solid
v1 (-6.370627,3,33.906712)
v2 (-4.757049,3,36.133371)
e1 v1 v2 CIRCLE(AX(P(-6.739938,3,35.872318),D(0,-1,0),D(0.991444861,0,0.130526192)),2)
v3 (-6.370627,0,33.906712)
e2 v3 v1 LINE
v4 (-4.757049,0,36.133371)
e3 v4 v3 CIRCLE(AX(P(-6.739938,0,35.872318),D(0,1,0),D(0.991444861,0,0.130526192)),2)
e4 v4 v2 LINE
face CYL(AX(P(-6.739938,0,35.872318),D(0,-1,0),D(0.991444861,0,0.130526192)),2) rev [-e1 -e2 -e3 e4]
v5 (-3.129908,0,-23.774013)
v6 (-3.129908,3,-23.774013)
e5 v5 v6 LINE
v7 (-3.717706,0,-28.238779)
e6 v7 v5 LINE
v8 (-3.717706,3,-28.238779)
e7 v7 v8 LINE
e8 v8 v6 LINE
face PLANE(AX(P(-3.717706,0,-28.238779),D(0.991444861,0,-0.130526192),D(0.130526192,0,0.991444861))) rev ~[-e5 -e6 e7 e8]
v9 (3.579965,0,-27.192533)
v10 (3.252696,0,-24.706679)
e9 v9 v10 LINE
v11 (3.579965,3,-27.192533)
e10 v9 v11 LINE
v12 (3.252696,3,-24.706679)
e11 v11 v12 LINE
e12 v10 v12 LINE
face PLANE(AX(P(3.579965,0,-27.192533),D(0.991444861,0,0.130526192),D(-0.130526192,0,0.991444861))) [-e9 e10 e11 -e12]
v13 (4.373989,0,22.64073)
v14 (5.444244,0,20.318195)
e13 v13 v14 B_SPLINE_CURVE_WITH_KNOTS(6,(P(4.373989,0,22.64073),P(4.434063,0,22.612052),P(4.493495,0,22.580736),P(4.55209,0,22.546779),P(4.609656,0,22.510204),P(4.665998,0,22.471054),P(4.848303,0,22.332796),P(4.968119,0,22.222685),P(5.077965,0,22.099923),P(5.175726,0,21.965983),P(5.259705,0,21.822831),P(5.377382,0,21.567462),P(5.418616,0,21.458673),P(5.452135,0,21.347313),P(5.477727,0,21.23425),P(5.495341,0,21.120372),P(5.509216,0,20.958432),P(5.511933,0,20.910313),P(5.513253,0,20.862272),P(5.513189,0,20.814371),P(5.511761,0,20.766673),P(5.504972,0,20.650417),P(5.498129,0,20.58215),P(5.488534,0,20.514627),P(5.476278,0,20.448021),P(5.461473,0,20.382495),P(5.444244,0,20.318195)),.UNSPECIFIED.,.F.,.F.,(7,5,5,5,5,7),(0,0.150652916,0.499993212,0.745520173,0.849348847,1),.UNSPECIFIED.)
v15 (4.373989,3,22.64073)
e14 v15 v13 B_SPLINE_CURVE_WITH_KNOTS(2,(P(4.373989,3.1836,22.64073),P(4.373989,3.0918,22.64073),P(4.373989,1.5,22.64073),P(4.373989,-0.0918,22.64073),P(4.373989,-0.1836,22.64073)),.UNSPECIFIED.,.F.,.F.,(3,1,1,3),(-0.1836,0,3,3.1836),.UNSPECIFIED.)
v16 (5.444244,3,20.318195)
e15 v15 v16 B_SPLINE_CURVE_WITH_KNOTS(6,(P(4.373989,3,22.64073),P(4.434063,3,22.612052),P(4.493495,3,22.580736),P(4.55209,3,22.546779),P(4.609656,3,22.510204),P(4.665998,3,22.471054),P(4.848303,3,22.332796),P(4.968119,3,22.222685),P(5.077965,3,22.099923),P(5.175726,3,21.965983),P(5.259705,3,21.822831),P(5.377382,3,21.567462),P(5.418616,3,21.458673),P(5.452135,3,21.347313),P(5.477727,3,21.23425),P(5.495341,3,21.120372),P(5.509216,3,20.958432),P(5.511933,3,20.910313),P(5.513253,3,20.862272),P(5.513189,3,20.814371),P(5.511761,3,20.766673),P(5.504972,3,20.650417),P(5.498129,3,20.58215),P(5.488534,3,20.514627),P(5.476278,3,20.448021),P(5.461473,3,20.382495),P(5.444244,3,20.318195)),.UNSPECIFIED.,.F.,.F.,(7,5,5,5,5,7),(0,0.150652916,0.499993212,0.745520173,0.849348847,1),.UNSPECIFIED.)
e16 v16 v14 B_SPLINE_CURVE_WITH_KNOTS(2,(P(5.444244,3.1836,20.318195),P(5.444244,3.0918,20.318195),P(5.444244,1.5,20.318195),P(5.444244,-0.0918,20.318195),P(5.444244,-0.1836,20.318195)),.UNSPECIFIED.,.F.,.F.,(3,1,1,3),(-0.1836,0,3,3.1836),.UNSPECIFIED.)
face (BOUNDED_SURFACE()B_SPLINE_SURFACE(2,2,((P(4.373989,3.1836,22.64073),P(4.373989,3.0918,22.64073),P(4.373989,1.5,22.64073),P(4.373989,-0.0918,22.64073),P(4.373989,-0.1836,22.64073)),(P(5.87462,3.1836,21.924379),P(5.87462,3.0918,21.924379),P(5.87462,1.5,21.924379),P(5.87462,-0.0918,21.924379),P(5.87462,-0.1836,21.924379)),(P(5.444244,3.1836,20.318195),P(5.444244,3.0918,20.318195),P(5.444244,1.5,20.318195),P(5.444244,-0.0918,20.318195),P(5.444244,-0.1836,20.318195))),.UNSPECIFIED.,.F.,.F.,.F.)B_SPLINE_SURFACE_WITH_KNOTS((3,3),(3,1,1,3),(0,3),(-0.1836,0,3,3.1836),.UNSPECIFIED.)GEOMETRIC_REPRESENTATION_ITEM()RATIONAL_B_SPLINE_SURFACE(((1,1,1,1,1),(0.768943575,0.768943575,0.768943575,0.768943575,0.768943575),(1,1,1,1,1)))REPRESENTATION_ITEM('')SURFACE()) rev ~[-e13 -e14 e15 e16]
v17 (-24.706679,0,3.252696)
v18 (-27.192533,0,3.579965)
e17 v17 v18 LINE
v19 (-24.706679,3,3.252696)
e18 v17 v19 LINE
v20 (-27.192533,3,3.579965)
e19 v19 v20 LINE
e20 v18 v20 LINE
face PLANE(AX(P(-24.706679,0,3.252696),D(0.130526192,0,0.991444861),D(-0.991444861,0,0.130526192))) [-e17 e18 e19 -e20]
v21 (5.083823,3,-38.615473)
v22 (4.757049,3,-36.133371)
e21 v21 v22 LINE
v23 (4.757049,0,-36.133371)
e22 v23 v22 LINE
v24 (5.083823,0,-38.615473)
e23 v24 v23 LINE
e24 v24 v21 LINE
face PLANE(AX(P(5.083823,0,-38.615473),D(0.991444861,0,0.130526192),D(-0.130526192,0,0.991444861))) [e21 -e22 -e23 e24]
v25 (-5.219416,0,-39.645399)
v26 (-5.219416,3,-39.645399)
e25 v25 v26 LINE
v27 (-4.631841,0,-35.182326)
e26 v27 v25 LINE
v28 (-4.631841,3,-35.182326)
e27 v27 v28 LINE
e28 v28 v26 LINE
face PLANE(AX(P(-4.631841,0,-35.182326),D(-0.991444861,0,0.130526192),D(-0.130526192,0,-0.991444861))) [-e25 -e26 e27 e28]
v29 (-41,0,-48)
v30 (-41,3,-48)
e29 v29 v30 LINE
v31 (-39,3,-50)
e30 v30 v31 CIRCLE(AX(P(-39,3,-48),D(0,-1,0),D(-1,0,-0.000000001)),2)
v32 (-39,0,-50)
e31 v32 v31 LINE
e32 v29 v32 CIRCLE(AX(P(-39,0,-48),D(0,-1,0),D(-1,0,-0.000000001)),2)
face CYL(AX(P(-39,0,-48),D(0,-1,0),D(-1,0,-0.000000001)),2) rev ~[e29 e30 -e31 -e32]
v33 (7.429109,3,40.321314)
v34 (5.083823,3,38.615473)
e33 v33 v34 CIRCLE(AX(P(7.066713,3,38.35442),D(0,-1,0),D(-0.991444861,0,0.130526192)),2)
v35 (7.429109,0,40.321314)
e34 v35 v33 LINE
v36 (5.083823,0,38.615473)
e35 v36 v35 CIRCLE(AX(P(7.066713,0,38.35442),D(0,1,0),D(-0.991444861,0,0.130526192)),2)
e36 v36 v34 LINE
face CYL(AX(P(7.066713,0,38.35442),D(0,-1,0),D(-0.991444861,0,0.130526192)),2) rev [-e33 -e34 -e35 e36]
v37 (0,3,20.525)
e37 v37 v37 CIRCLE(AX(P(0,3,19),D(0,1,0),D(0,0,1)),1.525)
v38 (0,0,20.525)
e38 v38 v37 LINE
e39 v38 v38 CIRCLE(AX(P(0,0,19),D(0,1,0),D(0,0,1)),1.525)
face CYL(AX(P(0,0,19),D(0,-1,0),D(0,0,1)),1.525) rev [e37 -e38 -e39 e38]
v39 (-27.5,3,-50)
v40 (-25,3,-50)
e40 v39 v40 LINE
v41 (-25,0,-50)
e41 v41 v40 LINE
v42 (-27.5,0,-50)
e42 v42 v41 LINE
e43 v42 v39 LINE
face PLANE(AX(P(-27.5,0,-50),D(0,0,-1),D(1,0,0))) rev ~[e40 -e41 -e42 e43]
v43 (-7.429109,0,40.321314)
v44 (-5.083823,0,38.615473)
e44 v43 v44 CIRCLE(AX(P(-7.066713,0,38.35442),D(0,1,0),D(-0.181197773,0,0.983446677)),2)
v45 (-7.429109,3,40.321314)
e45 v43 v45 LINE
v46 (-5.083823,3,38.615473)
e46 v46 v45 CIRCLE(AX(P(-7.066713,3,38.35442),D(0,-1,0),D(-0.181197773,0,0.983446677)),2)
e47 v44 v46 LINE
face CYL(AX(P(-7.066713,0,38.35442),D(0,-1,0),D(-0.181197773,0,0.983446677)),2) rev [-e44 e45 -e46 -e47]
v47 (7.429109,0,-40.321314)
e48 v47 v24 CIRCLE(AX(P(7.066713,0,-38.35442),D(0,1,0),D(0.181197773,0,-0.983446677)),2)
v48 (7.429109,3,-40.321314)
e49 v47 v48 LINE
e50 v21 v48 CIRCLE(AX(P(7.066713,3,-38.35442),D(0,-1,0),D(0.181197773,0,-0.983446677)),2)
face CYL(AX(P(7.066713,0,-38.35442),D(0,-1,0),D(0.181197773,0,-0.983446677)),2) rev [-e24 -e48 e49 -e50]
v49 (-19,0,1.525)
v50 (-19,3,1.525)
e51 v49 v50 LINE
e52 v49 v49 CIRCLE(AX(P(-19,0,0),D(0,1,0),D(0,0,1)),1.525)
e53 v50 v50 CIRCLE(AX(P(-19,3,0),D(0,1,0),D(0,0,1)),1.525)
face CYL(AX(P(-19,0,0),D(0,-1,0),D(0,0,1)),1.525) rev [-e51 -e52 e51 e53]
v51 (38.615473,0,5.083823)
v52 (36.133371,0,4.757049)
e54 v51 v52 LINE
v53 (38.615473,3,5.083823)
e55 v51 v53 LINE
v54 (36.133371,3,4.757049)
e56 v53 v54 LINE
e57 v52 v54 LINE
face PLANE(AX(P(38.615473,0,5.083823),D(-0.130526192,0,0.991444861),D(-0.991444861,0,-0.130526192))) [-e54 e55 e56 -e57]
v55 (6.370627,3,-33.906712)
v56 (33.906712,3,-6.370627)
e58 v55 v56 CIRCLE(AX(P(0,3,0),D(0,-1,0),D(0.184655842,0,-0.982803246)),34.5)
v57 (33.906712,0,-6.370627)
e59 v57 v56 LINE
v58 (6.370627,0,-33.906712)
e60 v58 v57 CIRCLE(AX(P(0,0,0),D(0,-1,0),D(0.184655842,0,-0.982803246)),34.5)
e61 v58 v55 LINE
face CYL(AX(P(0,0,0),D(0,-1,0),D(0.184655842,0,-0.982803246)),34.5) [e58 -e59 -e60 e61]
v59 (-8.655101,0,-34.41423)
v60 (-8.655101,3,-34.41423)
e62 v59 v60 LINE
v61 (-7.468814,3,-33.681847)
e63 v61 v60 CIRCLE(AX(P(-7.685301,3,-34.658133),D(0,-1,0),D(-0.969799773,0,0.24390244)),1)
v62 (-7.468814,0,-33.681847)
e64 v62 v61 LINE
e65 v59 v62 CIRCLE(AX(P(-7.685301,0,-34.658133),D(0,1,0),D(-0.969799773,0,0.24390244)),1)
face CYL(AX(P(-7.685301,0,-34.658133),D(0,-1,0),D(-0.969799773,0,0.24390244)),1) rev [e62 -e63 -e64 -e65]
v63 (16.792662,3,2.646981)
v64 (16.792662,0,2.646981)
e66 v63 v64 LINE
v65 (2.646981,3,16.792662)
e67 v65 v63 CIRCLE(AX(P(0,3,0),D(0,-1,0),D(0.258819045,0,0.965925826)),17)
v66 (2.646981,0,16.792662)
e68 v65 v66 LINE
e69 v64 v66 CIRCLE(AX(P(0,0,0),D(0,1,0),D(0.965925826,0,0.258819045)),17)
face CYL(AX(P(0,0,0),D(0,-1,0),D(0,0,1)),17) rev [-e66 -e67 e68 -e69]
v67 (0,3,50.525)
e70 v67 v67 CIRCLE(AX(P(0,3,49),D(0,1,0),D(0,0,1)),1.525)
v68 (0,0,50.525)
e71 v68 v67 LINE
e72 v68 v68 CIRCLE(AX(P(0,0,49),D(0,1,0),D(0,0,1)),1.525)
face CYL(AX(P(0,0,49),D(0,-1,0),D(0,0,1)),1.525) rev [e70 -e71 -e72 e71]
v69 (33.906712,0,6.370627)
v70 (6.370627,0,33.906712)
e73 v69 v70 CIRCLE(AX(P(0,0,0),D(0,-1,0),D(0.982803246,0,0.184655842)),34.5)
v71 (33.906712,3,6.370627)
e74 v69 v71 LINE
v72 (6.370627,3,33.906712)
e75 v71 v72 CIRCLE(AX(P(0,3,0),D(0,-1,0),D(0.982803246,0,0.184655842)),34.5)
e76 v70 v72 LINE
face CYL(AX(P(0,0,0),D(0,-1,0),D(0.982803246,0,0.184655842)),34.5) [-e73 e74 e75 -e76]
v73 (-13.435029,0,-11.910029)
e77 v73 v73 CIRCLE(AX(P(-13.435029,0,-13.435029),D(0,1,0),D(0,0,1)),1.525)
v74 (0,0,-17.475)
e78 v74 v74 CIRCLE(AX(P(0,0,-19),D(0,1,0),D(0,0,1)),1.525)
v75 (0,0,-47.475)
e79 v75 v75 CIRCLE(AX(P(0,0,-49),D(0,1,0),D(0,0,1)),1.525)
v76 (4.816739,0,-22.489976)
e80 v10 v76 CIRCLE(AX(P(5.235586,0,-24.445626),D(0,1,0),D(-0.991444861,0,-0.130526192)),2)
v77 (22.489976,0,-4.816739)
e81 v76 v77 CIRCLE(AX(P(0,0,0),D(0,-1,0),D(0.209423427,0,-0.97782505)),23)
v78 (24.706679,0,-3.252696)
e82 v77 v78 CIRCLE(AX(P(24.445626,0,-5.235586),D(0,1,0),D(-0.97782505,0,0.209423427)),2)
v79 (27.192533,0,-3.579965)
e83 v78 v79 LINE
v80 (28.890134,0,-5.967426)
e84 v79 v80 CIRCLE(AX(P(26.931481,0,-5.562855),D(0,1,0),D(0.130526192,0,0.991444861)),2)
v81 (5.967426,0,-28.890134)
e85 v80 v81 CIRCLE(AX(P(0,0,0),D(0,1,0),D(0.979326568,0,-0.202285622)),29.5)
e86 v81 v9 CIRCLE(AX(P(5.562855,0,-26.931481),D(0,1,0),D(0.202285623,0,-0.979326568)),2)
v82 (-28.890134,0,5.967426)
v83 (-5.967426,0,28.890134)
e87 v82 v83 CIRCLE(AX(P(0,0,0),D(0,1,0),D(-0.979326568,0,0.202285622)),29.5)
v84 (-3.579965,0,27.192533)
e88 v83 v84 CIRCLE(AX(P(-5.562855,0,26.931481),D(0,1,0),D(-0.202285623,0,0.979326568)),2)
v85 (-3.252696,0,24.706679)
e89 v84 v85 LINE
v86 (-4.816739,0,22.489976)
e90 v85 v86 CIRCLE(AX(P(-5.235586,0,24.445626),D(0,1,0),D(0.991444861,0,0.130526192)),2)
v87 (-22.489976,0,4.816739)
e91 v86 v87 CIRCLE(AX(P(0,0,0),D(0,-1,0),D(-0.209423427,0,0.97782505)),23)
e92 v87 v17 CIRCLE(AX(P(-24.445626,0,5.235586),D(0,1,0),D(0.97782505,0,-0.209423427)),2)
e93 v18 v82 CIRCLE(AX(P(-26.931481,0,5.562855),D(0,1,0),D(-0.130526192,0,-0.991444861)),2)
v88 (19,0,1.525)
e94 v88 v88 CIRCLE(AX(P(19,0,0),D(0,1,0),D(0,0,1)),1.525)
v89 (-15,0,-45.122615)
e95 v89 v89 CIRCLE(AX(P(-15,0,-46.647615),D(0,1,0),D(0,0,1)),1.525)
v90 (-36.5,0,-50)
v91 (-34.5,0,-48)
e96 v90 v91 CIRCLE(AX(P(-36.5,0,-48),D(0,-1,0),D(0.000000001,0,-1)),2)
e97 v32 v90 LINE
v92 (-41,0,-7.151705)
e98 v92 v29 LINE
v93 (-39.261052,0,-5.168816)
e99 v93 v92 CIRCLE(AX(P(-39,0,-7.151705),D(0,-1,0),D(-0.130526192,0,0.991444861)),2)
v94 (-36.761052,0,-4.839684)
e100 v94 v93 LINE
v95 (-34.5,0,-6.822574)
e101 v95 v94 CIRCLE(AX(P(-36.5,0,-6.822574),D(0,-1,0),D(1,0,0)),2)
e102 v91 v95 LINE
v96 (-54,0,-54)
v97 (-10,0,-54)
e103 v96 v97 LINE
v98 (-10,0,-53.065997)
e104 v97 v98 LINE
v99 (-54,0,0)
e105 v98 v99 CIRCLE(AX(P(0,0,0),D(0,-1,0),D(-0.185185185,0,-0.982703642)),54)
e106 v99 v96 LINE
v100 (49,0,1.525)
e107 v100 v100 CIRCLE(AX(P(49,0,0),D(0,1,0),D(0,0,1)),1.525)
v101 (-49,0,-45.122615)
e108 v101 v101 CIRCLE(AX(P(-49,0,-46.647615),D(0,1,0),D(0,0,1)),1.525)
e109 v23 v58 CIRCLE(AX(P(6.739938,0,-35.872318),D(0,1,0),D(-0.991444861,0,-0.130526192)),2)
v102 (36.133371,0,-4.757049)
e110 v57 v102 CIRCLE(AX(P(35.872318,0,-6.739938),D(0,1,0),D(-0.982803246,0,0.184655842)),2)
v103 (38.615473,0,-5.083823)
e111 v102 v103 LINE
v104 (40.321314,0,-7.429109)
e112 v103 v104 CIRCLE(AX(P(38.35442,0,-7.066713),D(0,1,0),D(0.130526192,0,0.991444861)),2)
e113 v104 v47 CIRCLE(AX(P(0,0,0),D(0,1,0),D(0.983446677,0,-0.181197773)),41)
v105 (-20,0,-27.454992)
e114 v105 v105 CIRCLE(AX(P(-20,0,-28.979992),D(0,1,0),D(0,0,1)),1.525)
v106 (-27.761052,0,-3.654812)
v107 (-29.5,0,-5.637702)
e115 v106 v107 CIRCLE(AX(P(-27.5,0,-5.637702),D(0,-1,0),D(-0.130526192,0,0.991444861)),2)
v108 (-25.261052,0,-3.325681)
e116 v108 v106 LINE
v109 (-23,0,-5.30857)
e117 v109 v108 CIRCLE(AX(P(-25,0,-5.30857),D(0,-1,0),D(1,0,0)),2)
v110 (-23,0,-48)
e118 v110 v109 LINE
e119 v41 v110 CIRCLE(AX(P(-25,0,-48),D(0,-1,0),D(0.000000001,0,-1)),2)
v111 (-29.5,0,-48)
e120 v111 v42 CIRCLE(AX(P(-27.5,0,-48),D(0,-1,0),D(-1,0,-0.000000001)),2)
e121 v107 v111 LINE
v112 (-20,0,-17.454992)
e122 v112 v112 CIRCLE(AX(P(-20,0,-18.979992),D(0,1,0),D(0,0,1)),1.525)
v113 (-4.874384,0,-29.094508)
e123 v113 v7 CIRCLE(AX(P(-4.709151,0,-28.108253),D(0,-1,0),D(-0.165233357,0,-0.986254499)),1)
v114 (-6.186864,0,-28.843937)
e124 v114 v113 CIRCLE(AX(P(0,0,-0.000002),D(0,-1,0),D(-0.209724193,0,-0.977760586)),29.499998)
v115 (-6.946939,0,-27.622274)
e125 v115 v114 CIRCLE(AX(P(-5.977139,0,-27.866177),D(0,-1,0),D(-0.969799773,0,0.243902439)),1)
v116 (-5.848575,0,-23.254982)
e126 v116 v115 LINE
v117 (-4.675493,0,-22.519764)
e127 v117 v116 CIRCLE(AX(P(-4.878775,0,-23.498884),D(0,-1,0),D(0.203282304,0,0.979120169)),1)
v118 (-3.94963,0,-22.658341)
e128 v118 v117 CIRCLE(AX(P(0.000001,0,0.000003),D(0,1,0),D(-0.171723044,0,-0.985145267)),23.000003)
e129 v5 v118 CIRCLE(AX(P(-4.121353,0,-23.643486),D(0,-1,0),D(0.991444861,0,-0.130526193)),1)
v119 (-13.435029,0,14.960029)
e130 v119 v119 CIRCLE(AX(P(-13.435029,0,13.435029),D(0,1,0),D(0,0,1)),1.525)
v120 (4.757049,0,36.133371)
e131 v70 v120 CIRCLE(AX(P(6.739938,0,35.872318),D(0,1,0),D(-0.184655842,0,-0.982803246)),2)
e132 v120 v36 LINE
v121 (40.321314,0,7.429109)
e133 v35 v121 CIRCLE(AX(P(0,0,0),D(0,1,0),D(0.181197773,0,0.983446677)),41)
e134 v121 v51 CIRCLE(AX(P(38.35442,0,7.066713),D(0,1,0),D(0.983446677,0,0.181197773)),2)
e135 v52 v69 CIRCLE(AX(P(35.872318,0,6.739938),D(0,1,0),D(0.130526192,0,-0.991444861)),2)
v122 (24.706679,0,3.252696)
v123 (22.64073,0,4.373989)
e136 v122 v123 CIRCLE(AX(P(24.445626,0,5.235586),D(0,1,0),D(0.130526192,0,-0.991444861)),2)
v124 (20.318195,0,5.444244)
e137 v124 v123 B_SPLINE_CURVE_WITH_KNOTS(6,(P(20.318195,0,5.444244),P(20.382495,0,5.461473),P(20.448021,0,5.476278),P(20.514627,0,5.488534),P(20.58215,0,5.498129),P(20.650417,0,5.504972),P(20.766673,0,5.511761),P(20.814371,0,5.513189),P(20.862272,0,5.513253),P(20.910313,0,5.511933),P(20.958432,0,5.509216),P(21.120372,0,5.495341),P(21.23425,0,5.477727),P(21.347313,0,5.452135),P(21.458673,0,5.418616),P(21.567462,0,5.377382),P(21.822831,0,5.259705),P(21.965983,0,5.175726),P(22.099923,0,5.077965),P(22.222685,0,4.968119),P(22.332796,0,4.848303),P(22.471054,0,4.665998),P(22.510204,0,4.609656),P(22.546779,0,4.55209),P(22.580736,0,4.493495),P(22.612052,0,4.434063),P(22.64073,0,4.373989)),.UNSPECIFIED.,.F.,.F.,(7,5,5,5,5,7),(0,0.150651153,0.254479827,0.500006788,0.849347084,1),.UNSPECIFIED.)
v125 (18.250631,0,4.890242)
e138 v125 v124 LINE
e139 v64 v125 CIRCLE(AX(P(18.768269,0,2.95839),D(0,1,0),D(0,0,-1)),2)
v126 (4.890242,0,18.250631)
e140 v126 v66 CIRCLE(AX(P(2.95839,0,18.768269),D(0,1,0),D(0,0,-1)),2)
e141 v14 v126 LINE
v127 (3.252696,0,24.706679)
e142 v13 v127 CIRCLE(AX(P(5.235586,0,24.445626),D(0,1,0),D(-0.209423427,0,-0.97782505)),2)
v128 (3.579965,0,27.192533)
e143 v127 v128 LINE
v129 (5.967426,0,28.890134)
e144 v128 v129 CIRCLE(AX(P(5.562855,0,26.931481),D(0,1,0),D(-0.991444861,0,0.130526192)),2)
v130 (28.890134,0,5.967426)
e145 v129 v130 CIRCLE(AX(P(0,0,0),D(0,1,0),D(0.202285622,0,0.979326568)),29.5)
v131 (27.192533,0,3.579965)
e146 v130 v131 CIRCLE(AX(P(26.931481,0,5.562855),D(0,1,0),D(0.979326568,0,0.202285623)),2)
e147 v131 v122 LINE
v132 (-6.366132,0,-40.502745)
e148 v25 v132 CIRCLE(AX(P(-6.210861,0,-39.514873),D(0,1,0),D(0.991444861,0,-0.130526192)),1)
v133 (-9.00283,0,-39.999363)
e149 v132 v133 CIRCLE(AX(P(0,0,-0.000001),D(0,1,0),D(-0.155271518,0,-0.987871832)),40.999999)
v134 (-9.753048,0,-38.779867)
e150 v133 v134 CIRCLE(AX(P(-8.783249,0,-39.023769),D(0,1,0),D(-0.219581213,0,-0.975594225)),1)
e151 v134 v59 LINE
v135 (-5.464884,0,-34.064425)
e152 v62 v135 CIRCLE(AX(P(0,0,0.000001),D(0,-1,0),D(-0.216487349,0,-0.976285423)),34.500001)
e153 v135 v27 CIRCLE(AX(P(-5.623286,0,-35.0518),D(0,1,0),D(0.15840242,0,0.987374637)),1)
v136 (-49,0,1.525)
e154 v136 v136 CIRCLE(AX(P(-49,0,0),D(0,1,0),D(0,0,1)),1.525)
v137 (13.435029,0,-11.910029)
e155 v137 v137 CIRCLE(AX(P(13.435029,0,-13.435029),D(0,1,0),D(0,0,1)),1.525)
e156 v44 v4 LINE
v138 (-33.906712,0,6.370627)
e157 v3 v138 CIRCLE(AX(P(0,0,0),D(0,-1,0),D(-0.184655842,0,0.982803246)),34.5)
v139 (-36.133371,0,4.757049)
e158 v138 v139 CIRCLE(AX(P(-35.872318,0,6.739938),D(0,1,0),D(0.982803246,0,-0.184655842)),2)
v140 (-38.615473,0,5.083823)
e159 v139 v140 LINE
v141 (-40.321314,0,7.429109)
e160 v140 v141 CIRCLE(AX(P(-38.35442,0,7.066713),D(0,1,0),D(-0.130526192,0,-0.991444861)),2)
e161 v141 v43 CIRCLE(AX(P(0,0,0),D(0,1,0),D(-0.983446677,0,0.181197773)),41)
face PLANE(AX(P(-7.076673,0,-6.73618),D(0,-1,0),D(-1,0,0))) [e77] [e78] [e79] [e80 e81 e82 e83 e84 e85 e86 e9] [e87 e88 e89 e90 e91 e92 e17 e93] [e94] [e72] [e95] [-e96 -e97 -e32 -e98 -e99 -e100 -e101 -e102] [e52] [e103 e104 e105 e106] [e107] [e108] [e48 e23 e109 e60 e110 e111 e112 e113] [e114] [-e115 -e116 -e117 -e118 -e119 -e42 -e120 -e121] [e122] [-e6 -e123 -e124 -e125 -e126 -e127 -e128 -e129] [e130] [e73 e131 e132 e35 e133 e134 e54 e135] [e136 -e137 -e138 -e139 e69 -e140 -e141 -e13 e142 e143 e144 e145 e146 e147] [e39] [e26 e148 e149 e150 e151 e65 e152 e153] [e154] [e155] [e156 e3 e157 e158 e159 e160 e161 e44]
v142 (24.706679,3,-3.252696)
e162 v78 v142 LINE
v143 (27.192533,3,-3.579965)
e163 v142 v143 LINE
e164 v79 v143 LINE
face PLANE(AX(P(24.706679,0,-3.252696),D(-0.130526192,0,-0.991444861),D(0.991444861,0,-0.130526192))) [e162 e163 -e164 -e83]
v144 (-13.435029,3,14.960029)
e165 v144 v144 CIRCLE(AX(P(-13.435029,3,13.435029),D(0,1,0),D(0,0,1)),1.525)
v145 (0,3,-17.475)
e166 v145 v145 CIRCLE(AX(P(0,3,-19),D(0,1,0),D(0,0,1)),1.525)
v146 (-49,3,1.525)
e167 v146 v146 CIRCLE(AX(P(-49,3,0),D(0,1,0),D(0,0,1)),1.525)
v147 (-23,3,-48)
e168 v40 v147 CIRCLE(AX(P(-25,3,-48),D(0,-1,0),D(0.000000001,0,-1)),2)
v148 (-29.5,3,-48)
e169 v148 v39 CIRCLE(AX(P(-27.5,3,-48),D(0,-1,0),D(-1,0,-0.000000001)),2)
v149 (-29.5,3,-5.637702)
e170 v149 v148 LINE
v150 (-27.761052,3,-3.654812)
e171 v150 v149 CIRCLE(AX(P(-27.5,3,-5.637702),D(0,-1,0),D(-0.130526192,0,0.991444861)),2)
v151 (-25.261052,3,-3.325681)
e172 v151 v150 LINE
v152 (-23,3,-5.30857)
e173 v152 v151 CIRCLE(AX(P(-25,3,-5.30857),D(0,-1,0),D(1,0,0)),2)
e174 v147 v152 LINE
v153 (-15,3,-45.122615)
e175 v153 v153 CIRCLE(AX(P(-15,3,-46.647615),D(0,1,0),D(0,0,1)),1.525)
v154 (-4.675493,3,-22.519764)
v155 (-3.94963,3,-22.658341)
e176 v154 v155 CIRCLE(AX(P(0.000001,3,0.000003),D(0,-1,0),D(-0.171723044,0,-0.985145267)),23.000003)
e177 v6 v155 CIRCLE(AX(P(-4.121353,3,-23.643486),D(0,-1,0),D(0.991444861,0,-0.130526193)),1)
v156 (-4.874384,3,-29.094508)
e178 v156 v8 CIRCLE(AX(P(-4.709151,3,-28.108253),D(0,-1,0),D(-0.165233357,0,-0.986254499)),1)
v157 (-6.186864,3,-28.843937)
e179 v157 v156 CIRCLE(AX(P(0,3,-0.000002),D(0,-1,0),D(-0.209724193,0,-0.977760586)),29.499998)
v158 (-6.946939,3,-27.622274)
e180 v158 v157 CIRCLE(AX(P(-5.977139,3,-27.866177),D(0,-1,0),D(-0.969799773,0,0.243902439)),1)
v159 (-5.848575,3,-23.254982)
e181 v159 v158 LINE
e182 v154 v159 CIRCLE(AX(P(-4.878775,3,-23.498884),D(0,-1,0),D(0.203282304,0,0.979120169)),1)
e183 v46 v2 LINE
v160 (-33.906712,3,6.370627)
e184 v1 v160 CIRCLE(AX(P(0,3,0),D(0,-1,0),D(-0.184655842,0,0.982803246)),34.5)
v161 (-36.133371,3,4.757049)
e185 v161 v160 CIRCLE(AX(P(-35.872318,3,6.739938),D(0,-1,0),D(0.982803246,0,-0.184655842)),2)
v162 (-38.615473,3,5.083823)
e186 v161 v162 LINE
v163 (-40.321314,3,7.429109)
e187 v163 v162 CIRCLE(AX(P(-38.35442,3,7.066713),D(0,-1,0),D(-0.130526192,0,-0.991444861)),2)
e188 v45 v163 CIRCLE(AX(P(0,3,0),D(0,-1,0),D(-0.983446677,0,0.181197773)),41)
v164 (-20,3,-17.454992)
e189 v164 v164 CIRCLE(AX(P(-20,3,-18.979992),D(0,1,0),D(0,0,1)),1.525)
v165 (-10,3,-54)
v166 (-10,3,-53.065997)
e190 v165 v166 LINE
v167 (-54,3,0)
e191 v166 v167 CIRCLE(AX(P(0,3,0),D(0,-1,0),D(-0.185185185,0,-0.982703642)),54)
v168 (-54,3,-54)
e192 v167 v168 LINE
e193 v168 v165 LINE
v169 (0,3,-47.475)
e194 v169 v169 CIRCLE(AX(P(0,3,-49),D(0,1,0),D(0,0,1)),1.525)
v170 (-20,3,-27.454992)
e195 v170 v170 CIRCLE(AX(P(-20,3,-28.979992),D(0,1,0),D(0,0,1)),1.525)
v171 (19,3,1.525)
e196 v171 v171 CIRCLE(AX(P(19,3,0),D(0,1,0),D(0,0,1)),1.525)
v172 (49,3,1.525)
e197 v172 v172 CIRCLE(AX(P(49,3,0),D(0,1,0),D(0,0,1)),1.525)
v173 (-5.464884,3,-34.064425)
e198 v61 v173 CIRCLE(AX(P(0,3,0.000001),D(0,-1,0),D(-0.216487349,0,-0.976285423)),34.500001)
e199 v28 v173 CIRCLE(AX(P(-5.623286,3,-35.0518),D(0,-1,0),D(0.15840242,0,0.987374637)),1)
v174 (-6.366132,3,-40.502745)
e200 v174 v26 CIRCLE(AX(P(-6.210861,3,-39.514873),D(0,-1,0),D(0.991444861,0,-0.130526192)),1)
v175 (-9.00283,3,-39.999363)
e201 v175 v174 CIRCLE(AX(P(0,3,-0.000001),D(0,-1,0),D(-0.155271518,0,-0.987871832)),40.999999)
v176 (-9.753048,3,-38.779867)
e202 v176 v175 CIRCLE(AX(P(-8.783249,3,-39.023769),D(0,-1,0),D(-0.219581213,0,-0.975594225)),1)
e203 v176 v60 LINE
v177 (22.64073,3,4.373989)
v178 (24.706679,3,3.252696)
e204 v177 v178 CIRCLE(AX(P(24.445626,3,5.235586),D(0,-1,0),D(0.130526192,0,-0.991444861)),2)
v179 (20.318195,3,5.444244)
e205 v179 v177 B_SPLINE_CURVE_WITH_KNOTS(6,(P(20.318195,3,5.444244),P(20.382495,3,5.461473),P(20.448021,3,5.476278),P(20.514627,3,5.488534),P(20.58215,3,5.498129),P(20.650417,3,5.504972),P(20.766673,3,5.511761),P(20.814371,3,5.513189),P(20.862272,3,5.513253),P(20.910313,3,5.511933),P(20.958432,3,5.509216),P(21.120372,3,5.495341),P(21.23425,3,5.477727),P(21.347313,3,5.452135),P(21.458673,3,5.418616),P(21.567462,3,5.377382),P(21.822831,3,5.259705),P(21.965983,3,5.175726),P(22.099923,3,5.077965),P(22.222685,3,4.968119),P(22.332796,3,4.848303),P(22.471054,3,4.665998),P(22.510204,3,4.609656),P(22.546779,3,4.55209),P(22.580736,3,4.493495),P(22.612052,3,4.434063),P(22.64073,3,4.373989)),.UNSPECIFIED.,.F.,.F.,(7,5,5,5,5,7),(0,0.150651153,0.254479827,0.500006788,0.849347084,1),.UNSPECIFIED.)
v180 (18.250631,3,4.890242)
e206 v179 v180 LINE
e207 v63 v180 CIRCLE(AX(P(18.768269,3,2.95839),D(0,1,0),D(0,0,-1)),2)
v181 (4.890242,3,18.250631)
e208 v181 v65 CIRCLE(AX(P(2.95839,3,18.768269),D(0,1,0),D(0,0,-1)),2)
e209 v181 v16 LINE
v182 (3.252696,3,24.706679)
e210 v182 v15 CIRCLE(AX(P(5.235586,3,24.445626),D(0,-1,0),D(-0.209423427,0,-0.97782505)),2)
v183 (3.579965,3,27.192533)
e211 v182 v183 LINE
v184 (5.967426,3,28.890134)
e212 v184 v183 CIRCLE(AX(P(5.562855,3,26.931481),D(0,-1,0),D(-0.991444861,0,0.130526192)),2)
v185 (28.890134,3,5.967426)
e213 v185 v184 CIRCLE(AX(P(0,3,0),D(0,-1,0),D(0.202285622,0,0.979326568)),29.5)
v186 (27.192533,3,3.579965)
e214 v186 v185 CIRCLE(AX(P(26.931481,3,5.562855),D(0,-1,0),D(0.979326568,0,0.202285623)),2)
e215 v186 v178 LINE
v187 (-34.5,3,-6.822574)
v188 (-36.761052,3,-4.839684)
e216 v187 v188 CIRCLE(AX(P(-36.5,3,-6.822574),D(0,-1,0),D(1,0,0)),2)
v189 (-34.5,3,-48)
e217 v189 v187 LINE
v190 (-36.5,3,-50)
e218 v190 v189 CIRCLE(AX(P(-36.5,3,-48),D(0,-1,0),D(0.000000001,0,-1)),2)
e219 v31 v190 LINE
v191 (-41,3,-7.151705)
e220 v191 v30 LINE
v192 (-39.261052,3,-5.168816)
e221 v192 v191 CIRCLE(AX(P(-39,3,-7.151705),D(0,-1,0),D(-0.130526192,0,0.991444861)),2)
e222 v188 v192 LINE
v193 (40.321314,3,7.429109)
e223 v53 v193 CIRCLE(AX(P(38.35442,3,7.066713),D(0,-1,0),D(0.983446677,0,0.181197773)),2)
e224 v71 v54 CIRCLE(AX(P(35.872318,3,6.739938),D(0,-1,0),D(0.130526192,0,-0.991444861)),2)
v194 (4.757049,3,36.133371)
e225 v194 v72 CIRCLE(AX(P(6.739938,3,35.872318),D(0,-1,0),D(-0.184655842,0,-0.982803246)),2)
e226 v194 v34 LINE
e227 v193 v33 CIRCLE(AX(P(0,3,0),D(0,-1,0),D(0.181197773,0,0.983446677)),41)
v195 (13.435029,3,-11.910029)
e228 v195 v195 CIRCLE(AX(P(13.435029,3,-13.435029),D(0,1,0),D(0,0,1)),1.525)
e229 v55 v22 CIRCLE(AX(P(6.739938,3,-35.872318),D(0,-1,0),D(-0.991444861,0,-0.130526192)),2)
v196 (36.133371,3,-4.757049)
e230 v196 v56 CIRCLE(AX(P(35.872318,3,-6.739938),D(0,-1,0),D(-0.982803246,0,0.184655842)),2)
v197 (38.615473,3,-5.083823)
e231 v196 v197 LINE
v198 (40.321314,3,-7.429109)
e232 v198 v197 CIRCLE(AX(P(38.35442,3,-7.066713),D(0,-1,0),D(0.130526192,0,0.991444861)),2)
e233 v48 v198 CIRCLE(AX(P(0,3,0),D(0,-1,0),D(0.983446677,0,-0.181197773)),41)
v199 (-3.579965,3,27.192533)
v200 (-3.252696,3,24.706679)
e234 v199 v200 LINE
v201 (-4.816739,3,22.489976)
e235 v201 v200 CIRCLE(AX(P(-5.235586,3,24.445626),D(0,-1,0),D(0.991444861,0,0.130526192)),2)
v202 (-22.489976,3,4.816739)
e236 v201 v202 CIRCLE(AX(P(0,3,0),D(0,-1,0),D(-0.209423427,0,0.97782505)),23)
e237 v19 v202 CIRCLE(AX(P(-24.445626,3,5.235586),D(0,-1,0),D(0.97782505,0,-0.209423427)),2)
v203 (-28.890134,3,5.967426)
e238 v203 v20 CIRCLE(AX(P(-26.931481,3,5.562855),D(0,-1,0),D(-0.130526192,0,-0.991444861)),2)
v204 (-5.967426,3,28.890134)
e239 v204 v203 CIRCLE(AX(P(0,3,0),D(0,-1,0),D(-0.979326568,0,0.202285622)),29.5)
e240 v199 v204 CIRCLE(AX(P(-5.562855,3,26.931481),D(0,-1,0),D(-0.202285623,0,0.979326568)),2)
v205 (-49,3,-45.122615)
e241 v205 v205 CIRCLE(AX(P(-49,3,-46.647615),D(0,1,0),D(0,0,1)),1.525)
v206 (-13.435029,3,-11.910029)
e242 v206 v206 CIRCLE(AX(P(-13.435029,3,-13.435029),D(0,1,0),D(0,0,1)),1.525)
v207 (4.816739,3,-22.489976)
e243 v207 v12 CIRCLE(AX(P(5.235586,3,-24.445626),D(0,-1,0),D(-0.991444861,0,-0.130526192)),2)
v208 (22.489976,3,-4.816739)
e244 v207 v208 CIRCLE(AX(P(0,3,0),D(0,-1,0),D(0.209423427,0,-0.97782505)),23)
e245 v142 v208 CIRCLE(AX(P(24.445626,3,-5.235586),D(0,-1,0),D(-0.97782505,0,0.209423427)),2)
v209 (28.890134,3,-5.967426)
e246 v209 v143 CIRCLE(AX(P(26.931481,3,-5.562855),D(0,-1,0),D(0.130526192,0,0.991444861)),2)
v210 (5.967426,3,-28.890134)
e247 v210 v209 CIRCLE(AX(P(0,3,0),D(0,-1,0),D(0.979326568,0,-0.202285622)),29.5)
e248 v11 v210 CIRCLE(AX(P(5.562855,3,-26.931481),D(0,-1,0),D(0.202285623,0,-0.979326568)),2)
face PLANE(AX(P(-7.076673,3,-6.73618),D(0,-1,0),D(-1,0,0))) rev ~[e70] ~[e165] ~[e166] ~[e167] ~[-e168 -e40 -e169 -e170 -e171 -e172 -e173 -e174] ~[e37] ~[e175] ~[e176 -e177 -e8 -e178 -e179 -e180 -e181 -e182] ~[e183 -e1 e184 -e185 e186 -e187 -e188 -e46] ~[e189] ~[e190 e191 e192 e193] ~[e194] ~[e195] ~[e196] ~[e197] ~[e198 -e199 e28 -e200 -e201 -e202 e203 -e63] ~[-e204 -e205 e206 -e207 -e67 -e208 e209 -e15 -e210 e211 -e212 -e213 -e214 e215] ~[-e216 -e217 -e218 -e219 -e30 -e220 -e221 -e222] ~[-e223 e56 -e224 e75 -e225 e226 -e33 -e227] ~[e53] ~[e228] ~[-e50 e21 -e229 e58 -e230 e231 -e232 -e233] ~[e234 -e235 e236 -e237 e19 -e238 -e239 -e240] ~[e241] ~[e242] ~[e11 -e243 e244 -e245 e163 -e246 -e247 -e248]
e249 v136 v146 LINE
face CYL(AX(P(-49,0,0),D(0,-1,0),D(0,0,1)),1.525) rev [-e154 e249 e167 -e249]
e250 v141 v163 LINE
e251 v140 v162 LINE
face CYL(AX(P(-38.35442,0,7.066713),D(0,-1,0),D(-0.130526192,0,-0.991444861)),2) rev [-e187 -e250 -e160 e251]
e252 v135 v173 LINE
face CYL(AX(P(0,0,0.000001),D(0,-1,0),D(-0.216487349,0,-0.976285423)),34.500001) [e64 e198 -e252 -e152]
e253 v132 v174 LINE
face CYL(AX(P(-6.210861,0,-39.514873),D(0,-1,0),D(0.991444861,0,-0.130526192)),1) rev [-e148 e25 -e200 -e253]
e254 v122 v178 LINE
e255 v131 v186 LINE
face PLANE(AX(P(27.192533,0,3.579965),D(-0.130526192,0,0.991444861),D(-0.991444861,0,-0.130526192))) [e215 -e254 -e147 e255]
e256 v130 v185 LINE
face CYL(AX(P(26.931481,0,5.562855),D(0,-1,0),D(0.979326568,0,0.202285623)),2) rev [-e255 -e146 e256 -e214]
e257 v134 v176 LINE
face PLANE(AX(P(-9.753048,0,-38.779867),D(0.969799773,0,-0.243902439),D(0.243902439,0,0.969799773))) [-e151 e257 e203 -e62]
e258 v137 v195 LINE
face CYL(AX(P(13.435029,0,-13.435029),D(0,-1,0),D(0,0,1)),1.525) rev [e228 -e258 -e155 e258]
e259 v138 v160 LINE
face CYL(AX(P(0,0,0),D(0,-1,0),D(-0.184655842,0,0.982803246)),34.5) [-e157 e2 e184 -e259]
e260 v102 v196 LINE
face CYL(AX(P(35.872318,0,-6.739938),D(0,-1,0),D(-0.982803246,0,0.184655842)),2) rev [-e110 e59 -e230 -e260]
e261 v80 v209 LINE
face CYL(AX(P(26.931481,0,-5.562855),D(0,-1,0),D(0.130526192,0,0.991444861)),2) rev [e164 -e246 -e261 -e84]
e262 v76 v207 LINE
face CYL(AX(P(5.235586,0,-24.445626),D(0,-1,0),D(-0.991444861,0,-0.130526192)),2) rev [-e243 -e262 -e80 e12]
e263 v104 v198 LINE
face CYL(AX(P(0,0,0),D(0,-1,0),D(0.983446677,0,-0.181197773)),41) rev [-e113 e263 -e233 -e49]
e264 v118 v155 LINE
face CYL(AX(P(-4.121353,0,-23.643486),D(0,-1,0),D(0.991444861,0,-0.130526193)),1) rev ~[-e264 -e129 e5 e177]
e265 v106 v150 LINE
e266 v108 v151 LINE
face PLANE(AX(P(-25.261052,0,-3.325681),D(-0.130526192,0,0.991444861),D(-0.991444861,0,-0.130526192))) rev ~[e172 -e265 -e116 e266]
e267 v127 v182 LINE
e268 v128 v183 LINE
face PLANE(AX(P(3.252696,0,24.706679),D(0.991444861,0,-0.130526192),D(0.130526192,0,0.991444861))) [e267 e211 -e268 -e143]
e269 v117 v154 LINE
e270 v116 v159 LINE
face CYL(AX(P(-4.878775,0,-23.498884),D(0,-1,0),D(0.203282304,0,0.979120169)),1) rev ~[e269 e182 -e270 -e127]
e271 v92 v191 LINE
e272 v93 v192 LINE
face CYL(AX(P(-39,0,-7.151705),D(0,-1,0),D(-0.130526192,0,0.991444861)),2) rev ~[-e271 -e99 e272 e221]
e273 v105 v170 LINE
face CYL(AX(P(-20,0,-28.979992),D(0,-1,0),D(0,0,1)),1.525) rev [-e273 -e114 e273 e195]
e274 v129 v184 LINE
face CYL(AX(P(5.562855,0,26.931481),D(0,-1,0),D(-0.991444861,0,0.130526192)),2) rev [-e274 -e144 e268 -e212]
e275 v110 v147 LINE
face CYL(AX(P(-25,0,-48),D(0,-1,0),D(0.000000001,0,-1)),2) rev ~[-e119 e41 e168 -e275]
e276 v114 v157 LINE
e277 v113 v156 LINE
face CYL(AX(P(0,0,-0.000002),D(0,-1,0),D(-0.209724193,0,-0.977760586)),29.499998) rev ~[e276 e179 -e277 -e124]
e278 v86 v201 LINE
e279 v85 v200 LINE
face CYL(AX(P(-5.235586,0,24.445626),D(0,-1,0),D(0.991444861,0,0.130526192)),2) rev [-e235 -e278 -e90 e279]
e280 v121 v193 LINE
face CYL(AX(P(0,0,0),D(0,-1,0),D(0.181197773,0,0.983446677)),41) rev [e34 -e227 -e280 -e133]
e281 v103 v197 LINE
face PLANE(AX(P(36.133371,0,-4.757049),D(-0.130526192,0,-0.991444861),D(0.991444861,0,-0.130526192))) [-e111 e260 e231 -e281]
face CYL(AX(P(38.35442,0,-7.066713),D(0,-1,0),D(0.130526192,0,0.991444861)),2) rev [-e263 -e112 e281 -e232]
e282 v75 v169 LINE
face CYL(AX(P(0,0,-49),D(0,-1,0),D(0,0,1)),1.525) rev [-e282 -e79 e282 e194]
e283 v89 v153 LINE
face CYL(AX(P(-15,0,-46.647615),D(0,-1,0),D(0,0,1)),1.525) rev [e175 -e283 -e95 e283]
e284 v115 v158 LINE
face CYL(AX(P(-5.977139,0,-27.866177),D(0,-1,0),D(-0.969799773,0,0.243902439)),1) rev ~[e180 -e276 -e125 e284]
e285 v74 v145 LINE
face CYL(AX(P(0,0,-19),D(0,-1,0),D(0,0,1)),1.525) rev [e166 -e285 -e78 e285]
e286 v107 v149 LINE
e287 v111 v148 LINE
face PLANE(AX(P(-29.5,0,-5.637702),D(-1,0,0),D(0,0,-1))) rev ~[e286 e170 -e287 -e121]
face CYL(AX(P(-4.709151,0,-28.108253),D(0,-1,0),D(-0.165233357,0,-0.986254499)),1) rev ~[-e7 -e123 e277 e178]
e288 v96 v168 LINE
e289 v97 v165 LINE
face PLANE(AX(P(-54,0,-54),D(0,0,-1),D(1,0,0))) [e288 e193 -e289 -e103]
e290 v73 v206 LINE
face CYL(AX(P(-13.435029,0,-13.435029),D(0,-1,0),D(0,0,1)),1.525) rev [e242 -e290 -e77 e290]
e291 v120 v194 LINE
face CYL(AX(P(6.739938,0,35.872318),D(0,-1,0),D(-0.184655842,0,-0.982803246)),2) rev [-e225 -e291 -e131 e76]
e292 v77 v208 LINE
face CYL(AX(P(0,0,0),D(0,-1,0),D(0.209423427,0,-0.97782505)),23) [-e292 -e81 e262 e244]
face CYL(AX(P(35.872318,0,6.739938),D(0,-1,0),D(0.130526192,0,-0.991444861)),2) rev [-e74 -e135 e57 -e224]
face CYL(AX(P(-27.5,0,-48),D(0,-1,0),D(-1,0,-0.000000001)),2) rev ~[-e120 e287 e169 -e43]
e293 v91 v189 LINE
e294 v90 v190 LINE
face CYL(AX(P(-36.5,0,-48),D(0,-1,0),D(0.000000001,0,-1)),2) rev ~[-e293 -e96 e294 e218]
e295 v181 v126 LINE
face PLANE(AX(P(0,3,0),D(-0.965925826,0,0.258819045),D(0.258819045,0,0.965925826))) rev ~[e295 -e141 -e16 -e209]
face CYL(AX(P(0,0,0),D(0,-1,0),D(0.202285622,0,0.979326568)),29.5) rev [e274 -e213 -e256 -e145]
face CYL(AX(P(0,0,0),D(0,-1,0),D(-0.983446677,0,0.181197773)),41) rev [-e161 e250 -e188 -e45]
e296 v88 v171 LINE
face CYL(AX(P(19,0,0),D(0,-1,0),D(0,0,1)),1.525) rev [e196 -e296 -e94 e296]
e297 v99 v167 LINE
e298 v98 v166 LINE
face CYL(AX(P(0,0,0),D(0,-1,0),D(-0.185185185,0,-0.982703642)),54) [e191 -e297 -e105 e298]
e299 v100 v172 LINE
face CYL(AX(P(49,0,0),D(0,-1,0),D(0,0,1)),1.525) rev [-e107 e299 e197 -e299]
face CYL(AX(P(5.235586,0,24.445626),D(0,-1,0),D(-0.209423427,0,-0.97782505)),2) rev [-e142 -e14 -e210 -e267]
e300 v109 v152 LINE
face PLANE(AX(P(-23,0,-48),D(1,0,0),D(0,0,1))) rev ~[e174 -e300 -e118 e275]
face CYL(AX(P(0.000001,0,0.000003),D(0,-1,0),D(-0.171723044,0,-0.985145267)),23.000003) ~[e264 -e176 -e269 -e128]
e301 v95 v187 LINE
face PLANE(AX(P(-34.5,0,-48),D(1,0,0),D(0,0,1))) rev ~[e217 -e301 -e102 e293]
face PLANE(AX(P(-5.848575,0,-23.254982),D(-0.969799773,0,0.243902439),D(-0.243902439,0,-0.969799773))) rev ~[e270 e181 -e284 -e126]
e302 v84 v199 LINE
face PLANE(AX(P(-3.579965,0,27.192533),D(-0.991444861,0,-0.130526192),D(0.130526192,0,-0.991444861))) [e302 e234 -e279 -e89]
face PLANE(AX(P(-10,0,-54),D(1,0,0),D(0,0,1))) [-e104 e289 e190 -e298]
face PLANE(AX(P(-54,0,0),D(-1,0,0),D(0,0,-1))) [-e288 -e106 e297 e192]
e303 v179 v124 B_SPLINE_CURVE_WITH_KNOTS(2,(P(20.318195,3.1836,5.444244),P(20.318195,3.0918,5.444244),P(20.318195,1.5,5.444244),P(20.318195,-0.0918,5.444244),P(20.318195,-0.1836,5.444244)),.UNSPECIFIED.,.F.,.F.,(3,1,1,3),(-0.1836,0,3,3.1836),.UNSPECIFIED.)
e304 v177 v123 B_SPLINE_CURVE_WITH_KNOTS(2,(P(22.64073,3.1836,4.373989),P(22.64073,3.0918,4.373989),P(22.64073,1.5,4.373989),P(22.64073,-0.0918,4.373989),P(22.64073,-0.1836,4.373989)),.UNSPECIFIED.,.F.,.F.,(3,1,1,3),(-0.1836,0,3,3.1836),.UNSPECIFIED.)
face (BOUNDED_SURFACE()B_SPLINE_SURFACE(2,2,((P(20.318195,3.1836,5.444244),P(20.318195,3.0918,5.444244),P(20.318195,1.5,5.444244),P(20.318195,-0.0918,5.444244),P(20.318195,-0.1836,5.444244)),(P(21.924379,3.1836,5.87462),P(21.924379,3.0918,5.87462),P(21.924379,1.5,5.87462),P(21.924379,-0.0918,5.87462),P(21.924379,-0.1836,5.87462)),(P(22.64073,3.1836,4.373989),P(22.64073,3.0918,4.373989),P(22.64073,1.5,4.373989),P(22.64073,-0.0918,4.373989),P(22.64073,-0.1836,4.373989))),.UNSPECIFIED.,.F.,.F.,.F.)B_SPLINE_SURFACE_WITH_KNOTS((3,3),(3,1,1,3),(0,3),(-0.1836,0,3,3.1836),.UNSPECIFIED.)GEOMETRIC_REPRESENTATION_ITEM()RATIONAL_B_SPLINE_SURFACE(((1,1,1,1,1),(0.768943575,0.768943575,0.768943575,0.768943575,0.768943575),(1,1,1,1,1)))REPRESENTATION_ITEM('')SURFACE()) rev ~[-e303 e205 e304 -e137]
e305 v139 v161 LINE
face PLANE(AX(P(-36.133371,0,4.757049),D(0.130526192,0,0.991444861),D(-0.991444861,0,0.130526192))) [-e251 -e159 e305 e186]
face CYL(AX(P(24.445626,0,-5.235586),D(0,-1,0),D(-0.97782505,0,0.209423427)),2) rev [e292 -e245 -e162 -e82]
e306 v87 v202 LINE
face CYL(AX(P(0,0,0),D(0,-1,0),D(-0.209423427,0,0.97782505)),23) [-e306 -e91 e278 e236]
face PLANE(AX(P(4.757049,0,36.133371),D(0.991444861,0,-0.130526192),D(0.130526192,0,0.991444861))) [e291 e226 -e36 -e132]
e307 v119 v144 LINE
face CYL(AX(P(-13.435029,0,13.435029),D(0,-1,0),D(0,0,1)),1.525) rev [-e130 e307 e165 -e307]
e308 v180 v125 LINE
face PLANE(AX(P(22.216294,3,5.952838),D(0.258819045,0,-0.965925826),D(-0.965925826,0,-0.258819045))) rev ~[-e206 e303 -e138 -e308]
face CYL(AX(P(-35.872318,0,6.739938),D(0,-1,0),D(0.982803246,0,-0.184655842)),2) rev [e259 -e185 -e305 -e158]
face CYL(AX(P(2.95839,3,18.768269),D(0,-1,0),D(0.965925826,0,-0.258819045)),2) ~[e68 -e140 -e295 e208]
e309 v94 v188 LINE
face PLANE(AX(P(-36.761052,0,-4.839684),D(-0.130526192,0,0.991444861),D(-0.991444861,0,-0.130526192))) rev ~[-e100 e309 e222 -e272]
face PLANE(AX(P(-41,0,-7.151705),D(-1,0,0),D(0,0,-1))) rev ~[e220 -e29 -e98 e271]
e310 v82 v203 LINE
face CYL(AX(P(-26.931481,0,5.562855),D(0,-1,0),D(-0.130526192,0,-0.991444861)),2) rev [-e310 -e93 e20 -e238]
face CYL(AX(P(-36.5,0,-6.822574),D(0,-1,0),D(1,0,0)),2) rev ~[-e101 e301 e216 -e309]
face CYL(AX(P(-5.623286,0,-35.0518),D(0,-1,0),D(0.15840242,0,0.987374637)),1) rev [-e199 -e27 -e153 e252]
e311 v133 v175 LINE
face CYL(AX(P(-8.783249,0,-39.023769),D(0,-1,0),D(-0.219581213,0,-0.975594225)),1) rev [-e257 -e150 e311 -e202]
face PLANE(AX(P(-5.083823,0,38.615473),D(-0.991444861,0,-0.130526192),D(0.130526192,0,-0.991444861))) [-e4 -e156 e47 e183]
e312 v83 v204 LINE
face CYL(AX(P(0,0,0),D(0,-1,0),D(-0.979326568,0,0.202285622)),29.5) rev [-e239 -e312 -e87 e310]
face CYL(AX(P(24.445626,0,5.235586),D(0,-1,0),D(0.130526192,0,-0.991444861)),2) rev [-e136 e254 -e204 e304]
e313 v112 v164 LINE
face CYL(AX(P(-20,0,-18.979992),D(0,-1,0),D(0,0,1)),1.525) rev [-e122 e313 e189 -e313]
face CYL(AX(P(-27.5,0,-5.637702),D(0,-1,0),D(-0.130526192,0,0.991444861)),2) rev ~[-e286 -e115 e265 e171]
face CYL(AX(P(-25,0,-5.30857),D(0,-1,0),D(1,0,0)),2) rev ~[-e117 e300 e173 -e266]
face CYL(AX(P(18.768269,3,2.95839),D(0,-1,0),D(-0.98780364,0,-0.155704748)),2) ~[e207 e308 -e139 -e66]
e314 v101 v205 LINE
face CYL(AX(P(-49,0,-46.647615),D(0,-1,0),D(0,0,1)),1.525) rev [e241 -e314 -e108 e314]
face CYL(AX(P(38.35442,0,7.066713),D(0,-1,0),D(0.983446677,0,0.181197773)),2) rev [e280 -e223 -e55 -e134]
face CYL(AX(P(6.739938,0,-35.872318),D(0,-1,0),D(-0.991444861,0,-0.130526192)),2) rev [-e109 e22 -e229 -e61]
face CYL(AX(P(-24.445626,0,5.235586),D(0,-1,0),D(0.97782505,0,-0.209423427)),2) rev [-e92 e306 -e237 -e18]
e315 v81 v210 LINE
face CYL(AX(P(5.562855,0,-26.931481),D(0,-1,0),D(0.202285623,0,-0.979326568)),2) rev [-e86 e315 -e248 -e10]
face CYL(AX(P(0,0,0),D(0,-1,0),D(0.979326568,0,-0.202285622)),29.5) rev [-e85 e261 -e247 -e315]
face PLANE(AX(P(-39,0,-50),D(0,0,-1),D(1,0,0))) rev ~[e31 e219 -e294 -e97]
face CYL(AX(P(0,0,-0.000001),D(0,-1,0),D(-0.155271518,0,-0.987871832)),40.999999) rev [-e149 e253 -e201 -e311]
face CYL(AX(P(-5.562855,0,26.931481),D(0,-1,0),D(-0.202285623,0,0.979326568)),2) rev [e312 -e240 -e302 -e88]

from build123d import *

# Parameters (mm, degrees)
SKETCH_1_R          = 1.525
SKETCH_1_R_2        = 17
EXTRUDE_1_DEPTH     = 3
CUT_EXTRUDE_2_DEPTH = 77.426435217
CUT_EXTRUDE_3_DEPTH = 77.426435217
FILLET_1_R          = 2


with BuildPart() as part:
    # 草图1 → 凸台-拉伸1 (new body)
    with BuildSketch(Plane(origin=(0, 0, 0), x_dir=(1, 0, 0), z_dir=(0, 1, 0))):
        with BuildLine():
            Line((-54, 0), (-54, 54))
            Line((-54, 54), (-10, 54))
            Line((-10, 54), (-10, 53.065996646))
            ThreePointArc((-10, 53.065996646), (41.569219382, -34.467375879), (-54, 0))
        make_face()
        with Locations(Location((-15, 46.647615159, 0), (0, 0, 270))):
            Circle(SKETCH_1_R, mode=Mode.SUBTRACT)
        with Locations(Location((0, 49, 0), (0, 0, 270))):
            Circle(SKETCH_1_R, mode=Mode.SUBTRACT)
        with Locations(Location((49, 0, 0), (0, 0, 270))):
            Circle(SKETCH_1_R, mode=Mode.SUBTRACT)
        with Locations(Location((0, -49, 0), (0, 0, 270))):
            Circle(SKETCH_1_R, mode=Mode.SUBTRACT)
        with Locations(Location((-49, 0, 0), (0, 0, 270))):
            Circle(SKETCH_1_R, mode=Mode.SUBTRACT)
        with Locations(Location((0, 0, 0), (0, 0, 270))):
            Circle(SKETCH_1_R_2, mode=Mode.SUBTRACT)
        with Locations(Location((0, 19, 0), (0, 0, 270))):
            Circle(SKETCH_1_R, mode=Mode.SUBTRACT)
        with Locations(Location((13.435028843, 13.435028843, 0), (0, 0, 270))):
            Circle(SKETCH_1_R, mode=Mode.SUBTRACT)
        with Locations(Location((19, 0, 0), (0, 0, 270))):
            Circle(SKETCH_1_R, mode=Mode.SUBTRACT)
        with Locations(Location((13.435028843, -13.435028843, 0), (0, 0, 270))):
            Circle(SKETCH_1_R, mode=Mode.SUBTRACT)
        with Locations(Location((0, -19, 0), (0, 0, 270))):
            Circle(SKETCH_1_R, mode=Mode.SUBTRACT)
        with Locations(Location((-13.435028843, -13.435028843, 0), (0, 0, 270))):
            Circle(SKETCH_1_R, mode=Mode.SUBTRACT)
        with Locations(Location((-19, 0, 0), (0, 0, 270))):
            Circle(SKETCH_1_R, mode=Mode.SUBTRACT)
        with Locations(Location((-13.435028843, 13.435028843, 0), (0, 0, 270))):
            Circle(SKETCH_1_R, mode=Mode.SUBTRACT)
        with Locations(Location((-49, 46.647615159, 0), (0, 0, 270))):
            Circle(SKETCH_1_R, mode=Mode.SUBTRACT)
        with Locations(Location((-20, 28.979991994, 0), (0, 0, 270))):
            Circle(SKETCH_1_R, mode=Mode.SUBTRACT)
        with Locations(Location((-20, 18.979991994, 0), (0, 0, 270))):
            Circle(SKETCH_1_R, mode=Mode.SUBTRACT)
    extrude(amount=EXTRUDE_1_DEPTH)

    # 草图2 → 切除-拉伸2 (cut, through all)
    with BuildSketch(Plane(origin=(0, 0, 0), x_dir=(1, 0, 0), z_dir=(0, 1, 0))):
        with BuildLine():
            Line((-41, 7.151705327), (-41, 48))
            ThreePointArc((-41, 48), (-40.414213562, 49.414213562), (-39, 50))
            Line((-39, 50), (-36.5, 50))
            ThreePointArc((-36.5, 50), (-35.085786438, 49.414213562), (-34.5, 48))
            Line((-34.5, 48), (-34.5, 6.822574083))
            ThreePointArc((-34.5, 6.822574083), (-35.18130837, 5.318894468), (-36.761052384, 4.83968436))
            Line((-36.761052384, 4.83968436), (-39.261052384, 5.168815604))
            ThreePointArc((-39.261052384, 5.168815604), (-40.503679615, 5.833013697), (-41, 7.151705327))
        make_face()
        with BuildLine():
            Line((-23, 48), (-23, 5.308570361))
            ThreePointArc((-23, 5.308570361), (-23.68130837, 3.804890746), (-25.261052384, 3.325680638))
            Line((-25.261052384, 3.325680638), (-27.761052384, 3.654811882))
            ThreePointArc((-27.761052384, 3.654811882), (-29.003679615, 4.319009975), (-29.5, 5.637701605))
            Line((-29.5, 5.637701605), (-29.5, 48))
            ThreePointArc((-29.5, 48), (-28.914213562, 49.414213562), (-27.5, 50))
            Line((-27.5, 50), (-25, 50))
            ThreePointArc((-25, 50), (-23.585786438, 49.414213562), (-23, 48))
        make_face()
        with BuildLine():
            Line((-9.753048304, 38.779866539), (-8.655100658, 34.414230089))
            ThreePointArc((-8.655100658, 34.414230089), (-8.210625652, 33.807230719), (-7.468813536, 33.681847104))
            ThreePointArc((-7.468813536, 33.681847104), (-6.469677057, 33.887951823), (-5.464883503, 34.064424967))
            ThreePointArc((-5.464883503, 34.064424967), (-4.821436337, 34.45427367), (-4.631841062, 35.182325795))
            Line((-4.631841062, 35.182325795), (-5.219415856, 39.645399457))
            ThreePointArc((-5.219415856, 39.645399457), (-5.612064549, 40.315774725), (-6.366132236, 40.502745097))
            ThreePointArc((-6.366132236, 40.502745097), (-7.68860172, 40.272638399), (-9.002829744, 39.999363202))
            ThreePointArc((-9.002829744, 39.999363202), (-9.634981946, 39.547744349), (-9.753048304, 38.779866539))
        make_face()
        with BuildLine():
            Line((-3.71770584, 28.238779423), (-3.129908136, 23.774012599))
            ThreePointArc((-3.129908136, 23.774012599), (-3.315486635, 23.051388943), (-3.949629956, 22.65834114))
            ThreePointArc((-3.949629956, 22.65834114), (-4.313118038, 22.591967882), (-4.675492953, 22.51976389))
            ThreePointArc((-4.675492953, 22.51976389), (-5.409834137, 22.65154914), (-5.848575028, 23.25498162))
            Line((-5.848575028, 23.25498162), (-6.946939204, 27.622274267))
            ThreePointArc((-6.946939204, 27.622274267), (-6.82621795, 28.39444337), (-6.186863621, 28.843937292))
            ThreePointArc((-6.186863621, 28.843937292), (-5.532042701, 28.976654458), (-4.874384059, 29.09450773))
            ThreePointArc((-4.874384059, 29.09450773), (-4.114403615, 28.912166101), (-3.71770584, 28.238779423))
        make_face()
        with BuildLine():
            Line((5.083823439, 38.615472796), (4.757048519, 36.133370856))
            ThreePointArc((4.757048519, 36.133370856), (5.120458294, 34.698740737), (6.370626558, 33.90671198))
            ThreePointArc((6.370626558, 33.90671198), (24.395183951, 24.395183951), (33.90671198, 6.370626558))
            ThreePointArc((33.90671198, 6.370626558), (34.698740737, 5.120458294), (36.133370856, 4.757048519))
            Line((36.133370856, 4.757048519), (38.615472796, 5.083823439))
            ThreePointArc((38.615472796, 5.083823439), (39.971833872, 5.890289047), (40.321313766, 7.429108709))
            ThreePointArc((40.321313766, 7.429108709), (28.991378029, 28.991378029), (7.429108709, 40.321313766))
            ThreePointArc((7.429108709, 40.321313766), (5.890289047, 39.971833872), (5.083823439, 38.615472796))
        make_face()
        with BuildLine():
            Line((3.579964886, 27.192533008), (3.252695949, 24.706678633))
            ThreePointArc((3.252695949, 24.706678633), (3.601410919, 23.292598548), (4.816738818, 22.489976148))
            ThreePointArc((4.816738818, 22.489976148), (16.263455967, 16.263455967), (22.489976148, 4.816738818))
            ThreePointArc((22.489976148, 4.816738818), (23.292598548, 3.601410919), (24.706678633, 3.252695949))
            Line((24.706678633, 3.252695949), (27.192533008, 3.579964886))
            ThreePointArc((27.192533008, 3.579964886), (28.561439402, 4.40387472), (28.89013376, 5.967425853))
            ThreePointArc((28.89013376, 5.967425853), (20.859650045, 20.859650045), (5.967425853, 28.89013376))
            ThreePointArc((5.967425853, 28.89013376), (4.40387472, 28.561439402), (3.579964886, 27.192533008))
        make_face()
        with BuildLine():
            Line((38.615472796, -5.083823439), (36.133370856, -4.757048519))
            ThreePointArc((36.133370856, -4.757048519), (34.698740737, -5.120458294), (33.90671198, -6.370626558))
            ThreePointArc((33.90671198, -6.370626558), (24.395183951, -24.395183951), (6.370626558, -33.90671198))
            ThreePointArc((6.370626558, -33.90671198), (5.120458294, -34.698740737), (4.757048519, -36.133370856))
            Line((4.757048519, -36.133370856), (5.083823439, -38.615472796))
            ThreePointArc((5.083823439, -38.615472796), (5.890289047, -39.971833872), (7.429108709, -40.321313766))
            ThreePointArc((7.429108709, -40.321313766), (28.991378029, -28.991378029), (40.321313766, -7.429108709))
            ThreePointArc((40.321313766, -7.429108709), (39.971833872, -5.890289047), (38.615472796, -5.083823439))
        make_face()
        with BuildLine():
            Line((27.192533008, -3.579964886), (24.706678633, -3.252695949))
            ThreePointArc((24.706678633, -3.252695949), (23.292598548, -3.601410919), (22.489976148, -4.816738818))
            ThreePointArc((22.489976148, -4.816738818), (16.263455967, -16.263455967), (4.816738818, -22.489976148))
            ThreePointArc((4.816738818, -22.489976148), (3.601410919, -23.292598548), (3.252695949, -24.706678633))
            Line((3.252695949, -24.706678633), (3.579964886, -27.192533008))
            ThreePointArc((3.579964886, -27.192533008), (4.40387472, -28.561439402), (5.967425853, -28.89013376))
            ThreePointArc((5.967425853, -28.89013376), (20.859650045, -20.859650045), (28.89013376, -5.967425853))
            ThreePointArc((28.89013376, -5.967425853), (28.561439402, -4.40387472), (27.192533008, -3.579964886))
        make_face()
        with BuildLine():
            Line((-5.083823439, -38.615472796), (-4.757048519, -36.133370856))
            ThreePointArc((-4.757048519, -36.133370856), (-5.120458294, -34.698740737), (-6.370626558, -33.90671198))
            ThreePointArc((-6.370626558, -33.90671198), (-24.395183951, -24.395183951), (-33.90671198, -6.370626558))
            ThreePointArc((-33.90671198, -6.370626558), (-34.698740737, -5.120458294), (-36.133370856, -4.757048519))
            Line((-36.133370856, -4.757048519), (-38.615472796, -5.083823439))
            ThreePointArc((-38.615472796, -5.083823439), (-39.971833872, -5.890289047), (-40.321313766, -7.429108709))
            ThreePointArc((-40.321313766, -7.429108709), (-28.991378029, -28.991378029), (-7.429108709, -40.321313766))
            ThreePointArc((-7.429108709, -40.321313766), (-5.890289047, -39.971833872), (-5.083823439, -38.615472796))
        make_face()
        with BuildLine():
            Line((-3.579964886, -27.192533008), (-3.252695949, -24.706678633))
            ThreePointArc((-3.252695949, -24.706678633), (-3.601410919, -23.292598548), (-4.816738818, -22.489976148))
            ThreePointArc((-4.816738818, -22.489976148), (-16.263455967, -16.263455967), (-22.489976148, -4.816738818))
            ThreePointArc((-22.489976148, -4.816738818), (-23.292598548, -3.601410919), (-24.706678633, -3.252695949))
            Line((-24.706678633, -3.252695949), (-27.192533008, -3.579964886))
            ThreePointArc((-27.192533008, -3.579964886), (-28.561439402, -4.40387472), (-28.89013376, -5.967425853))
            ThreePointArc((-28.89013376, -5.967425853), (-20.859650045, -20.859650045), (-5.967425853, -28.89013376))
            ThreePointArc((-5.967425853, -28.89013376), (-4.40387472, -28.561439402), (-3.579964886, -27.192533008))
        make_face()
    extrude(amount=CUT_EXTRUDE_2_DEPTH, mode=Mode.SUBTRACT)

    # 草图3 → 切除-拉伸3 (cut, through all)
    with BuildSketch(Plane(origin=(0, 3, 0), x_dir=(1, 0, 0), z_dir=(0, 1, 0))):
        with BuildLine():
            Line((0, 0), (5.952838037, -22.216294005))
            ThreePointArc((5.952838037, -22.216294005), (16.263455967, -16.263455967), (22.216294005, -5.952838037))
            Line((22.216294005, -5.952838037), (0, 0))
        make_face()
    extrude(amount=-CUT_EXTRUDE_3_DEPTH, mode=Mode.SUBTRACT)

    # 圆角1
    fillet_1_edges = [part.edges().sort_by_distance(p)[0] for p in [
        (5.952838037, 1.5, 22.216294005),
        (4.399923767, 1.5, 16.420739047),
        (16.420739047, 1.5, 4.399923767),
        (22.216294005, 1.5, 5.952838037),
    ]]
    fillet(fillet_1_edges, radius=FILLET_1_R)


solid = part.part
